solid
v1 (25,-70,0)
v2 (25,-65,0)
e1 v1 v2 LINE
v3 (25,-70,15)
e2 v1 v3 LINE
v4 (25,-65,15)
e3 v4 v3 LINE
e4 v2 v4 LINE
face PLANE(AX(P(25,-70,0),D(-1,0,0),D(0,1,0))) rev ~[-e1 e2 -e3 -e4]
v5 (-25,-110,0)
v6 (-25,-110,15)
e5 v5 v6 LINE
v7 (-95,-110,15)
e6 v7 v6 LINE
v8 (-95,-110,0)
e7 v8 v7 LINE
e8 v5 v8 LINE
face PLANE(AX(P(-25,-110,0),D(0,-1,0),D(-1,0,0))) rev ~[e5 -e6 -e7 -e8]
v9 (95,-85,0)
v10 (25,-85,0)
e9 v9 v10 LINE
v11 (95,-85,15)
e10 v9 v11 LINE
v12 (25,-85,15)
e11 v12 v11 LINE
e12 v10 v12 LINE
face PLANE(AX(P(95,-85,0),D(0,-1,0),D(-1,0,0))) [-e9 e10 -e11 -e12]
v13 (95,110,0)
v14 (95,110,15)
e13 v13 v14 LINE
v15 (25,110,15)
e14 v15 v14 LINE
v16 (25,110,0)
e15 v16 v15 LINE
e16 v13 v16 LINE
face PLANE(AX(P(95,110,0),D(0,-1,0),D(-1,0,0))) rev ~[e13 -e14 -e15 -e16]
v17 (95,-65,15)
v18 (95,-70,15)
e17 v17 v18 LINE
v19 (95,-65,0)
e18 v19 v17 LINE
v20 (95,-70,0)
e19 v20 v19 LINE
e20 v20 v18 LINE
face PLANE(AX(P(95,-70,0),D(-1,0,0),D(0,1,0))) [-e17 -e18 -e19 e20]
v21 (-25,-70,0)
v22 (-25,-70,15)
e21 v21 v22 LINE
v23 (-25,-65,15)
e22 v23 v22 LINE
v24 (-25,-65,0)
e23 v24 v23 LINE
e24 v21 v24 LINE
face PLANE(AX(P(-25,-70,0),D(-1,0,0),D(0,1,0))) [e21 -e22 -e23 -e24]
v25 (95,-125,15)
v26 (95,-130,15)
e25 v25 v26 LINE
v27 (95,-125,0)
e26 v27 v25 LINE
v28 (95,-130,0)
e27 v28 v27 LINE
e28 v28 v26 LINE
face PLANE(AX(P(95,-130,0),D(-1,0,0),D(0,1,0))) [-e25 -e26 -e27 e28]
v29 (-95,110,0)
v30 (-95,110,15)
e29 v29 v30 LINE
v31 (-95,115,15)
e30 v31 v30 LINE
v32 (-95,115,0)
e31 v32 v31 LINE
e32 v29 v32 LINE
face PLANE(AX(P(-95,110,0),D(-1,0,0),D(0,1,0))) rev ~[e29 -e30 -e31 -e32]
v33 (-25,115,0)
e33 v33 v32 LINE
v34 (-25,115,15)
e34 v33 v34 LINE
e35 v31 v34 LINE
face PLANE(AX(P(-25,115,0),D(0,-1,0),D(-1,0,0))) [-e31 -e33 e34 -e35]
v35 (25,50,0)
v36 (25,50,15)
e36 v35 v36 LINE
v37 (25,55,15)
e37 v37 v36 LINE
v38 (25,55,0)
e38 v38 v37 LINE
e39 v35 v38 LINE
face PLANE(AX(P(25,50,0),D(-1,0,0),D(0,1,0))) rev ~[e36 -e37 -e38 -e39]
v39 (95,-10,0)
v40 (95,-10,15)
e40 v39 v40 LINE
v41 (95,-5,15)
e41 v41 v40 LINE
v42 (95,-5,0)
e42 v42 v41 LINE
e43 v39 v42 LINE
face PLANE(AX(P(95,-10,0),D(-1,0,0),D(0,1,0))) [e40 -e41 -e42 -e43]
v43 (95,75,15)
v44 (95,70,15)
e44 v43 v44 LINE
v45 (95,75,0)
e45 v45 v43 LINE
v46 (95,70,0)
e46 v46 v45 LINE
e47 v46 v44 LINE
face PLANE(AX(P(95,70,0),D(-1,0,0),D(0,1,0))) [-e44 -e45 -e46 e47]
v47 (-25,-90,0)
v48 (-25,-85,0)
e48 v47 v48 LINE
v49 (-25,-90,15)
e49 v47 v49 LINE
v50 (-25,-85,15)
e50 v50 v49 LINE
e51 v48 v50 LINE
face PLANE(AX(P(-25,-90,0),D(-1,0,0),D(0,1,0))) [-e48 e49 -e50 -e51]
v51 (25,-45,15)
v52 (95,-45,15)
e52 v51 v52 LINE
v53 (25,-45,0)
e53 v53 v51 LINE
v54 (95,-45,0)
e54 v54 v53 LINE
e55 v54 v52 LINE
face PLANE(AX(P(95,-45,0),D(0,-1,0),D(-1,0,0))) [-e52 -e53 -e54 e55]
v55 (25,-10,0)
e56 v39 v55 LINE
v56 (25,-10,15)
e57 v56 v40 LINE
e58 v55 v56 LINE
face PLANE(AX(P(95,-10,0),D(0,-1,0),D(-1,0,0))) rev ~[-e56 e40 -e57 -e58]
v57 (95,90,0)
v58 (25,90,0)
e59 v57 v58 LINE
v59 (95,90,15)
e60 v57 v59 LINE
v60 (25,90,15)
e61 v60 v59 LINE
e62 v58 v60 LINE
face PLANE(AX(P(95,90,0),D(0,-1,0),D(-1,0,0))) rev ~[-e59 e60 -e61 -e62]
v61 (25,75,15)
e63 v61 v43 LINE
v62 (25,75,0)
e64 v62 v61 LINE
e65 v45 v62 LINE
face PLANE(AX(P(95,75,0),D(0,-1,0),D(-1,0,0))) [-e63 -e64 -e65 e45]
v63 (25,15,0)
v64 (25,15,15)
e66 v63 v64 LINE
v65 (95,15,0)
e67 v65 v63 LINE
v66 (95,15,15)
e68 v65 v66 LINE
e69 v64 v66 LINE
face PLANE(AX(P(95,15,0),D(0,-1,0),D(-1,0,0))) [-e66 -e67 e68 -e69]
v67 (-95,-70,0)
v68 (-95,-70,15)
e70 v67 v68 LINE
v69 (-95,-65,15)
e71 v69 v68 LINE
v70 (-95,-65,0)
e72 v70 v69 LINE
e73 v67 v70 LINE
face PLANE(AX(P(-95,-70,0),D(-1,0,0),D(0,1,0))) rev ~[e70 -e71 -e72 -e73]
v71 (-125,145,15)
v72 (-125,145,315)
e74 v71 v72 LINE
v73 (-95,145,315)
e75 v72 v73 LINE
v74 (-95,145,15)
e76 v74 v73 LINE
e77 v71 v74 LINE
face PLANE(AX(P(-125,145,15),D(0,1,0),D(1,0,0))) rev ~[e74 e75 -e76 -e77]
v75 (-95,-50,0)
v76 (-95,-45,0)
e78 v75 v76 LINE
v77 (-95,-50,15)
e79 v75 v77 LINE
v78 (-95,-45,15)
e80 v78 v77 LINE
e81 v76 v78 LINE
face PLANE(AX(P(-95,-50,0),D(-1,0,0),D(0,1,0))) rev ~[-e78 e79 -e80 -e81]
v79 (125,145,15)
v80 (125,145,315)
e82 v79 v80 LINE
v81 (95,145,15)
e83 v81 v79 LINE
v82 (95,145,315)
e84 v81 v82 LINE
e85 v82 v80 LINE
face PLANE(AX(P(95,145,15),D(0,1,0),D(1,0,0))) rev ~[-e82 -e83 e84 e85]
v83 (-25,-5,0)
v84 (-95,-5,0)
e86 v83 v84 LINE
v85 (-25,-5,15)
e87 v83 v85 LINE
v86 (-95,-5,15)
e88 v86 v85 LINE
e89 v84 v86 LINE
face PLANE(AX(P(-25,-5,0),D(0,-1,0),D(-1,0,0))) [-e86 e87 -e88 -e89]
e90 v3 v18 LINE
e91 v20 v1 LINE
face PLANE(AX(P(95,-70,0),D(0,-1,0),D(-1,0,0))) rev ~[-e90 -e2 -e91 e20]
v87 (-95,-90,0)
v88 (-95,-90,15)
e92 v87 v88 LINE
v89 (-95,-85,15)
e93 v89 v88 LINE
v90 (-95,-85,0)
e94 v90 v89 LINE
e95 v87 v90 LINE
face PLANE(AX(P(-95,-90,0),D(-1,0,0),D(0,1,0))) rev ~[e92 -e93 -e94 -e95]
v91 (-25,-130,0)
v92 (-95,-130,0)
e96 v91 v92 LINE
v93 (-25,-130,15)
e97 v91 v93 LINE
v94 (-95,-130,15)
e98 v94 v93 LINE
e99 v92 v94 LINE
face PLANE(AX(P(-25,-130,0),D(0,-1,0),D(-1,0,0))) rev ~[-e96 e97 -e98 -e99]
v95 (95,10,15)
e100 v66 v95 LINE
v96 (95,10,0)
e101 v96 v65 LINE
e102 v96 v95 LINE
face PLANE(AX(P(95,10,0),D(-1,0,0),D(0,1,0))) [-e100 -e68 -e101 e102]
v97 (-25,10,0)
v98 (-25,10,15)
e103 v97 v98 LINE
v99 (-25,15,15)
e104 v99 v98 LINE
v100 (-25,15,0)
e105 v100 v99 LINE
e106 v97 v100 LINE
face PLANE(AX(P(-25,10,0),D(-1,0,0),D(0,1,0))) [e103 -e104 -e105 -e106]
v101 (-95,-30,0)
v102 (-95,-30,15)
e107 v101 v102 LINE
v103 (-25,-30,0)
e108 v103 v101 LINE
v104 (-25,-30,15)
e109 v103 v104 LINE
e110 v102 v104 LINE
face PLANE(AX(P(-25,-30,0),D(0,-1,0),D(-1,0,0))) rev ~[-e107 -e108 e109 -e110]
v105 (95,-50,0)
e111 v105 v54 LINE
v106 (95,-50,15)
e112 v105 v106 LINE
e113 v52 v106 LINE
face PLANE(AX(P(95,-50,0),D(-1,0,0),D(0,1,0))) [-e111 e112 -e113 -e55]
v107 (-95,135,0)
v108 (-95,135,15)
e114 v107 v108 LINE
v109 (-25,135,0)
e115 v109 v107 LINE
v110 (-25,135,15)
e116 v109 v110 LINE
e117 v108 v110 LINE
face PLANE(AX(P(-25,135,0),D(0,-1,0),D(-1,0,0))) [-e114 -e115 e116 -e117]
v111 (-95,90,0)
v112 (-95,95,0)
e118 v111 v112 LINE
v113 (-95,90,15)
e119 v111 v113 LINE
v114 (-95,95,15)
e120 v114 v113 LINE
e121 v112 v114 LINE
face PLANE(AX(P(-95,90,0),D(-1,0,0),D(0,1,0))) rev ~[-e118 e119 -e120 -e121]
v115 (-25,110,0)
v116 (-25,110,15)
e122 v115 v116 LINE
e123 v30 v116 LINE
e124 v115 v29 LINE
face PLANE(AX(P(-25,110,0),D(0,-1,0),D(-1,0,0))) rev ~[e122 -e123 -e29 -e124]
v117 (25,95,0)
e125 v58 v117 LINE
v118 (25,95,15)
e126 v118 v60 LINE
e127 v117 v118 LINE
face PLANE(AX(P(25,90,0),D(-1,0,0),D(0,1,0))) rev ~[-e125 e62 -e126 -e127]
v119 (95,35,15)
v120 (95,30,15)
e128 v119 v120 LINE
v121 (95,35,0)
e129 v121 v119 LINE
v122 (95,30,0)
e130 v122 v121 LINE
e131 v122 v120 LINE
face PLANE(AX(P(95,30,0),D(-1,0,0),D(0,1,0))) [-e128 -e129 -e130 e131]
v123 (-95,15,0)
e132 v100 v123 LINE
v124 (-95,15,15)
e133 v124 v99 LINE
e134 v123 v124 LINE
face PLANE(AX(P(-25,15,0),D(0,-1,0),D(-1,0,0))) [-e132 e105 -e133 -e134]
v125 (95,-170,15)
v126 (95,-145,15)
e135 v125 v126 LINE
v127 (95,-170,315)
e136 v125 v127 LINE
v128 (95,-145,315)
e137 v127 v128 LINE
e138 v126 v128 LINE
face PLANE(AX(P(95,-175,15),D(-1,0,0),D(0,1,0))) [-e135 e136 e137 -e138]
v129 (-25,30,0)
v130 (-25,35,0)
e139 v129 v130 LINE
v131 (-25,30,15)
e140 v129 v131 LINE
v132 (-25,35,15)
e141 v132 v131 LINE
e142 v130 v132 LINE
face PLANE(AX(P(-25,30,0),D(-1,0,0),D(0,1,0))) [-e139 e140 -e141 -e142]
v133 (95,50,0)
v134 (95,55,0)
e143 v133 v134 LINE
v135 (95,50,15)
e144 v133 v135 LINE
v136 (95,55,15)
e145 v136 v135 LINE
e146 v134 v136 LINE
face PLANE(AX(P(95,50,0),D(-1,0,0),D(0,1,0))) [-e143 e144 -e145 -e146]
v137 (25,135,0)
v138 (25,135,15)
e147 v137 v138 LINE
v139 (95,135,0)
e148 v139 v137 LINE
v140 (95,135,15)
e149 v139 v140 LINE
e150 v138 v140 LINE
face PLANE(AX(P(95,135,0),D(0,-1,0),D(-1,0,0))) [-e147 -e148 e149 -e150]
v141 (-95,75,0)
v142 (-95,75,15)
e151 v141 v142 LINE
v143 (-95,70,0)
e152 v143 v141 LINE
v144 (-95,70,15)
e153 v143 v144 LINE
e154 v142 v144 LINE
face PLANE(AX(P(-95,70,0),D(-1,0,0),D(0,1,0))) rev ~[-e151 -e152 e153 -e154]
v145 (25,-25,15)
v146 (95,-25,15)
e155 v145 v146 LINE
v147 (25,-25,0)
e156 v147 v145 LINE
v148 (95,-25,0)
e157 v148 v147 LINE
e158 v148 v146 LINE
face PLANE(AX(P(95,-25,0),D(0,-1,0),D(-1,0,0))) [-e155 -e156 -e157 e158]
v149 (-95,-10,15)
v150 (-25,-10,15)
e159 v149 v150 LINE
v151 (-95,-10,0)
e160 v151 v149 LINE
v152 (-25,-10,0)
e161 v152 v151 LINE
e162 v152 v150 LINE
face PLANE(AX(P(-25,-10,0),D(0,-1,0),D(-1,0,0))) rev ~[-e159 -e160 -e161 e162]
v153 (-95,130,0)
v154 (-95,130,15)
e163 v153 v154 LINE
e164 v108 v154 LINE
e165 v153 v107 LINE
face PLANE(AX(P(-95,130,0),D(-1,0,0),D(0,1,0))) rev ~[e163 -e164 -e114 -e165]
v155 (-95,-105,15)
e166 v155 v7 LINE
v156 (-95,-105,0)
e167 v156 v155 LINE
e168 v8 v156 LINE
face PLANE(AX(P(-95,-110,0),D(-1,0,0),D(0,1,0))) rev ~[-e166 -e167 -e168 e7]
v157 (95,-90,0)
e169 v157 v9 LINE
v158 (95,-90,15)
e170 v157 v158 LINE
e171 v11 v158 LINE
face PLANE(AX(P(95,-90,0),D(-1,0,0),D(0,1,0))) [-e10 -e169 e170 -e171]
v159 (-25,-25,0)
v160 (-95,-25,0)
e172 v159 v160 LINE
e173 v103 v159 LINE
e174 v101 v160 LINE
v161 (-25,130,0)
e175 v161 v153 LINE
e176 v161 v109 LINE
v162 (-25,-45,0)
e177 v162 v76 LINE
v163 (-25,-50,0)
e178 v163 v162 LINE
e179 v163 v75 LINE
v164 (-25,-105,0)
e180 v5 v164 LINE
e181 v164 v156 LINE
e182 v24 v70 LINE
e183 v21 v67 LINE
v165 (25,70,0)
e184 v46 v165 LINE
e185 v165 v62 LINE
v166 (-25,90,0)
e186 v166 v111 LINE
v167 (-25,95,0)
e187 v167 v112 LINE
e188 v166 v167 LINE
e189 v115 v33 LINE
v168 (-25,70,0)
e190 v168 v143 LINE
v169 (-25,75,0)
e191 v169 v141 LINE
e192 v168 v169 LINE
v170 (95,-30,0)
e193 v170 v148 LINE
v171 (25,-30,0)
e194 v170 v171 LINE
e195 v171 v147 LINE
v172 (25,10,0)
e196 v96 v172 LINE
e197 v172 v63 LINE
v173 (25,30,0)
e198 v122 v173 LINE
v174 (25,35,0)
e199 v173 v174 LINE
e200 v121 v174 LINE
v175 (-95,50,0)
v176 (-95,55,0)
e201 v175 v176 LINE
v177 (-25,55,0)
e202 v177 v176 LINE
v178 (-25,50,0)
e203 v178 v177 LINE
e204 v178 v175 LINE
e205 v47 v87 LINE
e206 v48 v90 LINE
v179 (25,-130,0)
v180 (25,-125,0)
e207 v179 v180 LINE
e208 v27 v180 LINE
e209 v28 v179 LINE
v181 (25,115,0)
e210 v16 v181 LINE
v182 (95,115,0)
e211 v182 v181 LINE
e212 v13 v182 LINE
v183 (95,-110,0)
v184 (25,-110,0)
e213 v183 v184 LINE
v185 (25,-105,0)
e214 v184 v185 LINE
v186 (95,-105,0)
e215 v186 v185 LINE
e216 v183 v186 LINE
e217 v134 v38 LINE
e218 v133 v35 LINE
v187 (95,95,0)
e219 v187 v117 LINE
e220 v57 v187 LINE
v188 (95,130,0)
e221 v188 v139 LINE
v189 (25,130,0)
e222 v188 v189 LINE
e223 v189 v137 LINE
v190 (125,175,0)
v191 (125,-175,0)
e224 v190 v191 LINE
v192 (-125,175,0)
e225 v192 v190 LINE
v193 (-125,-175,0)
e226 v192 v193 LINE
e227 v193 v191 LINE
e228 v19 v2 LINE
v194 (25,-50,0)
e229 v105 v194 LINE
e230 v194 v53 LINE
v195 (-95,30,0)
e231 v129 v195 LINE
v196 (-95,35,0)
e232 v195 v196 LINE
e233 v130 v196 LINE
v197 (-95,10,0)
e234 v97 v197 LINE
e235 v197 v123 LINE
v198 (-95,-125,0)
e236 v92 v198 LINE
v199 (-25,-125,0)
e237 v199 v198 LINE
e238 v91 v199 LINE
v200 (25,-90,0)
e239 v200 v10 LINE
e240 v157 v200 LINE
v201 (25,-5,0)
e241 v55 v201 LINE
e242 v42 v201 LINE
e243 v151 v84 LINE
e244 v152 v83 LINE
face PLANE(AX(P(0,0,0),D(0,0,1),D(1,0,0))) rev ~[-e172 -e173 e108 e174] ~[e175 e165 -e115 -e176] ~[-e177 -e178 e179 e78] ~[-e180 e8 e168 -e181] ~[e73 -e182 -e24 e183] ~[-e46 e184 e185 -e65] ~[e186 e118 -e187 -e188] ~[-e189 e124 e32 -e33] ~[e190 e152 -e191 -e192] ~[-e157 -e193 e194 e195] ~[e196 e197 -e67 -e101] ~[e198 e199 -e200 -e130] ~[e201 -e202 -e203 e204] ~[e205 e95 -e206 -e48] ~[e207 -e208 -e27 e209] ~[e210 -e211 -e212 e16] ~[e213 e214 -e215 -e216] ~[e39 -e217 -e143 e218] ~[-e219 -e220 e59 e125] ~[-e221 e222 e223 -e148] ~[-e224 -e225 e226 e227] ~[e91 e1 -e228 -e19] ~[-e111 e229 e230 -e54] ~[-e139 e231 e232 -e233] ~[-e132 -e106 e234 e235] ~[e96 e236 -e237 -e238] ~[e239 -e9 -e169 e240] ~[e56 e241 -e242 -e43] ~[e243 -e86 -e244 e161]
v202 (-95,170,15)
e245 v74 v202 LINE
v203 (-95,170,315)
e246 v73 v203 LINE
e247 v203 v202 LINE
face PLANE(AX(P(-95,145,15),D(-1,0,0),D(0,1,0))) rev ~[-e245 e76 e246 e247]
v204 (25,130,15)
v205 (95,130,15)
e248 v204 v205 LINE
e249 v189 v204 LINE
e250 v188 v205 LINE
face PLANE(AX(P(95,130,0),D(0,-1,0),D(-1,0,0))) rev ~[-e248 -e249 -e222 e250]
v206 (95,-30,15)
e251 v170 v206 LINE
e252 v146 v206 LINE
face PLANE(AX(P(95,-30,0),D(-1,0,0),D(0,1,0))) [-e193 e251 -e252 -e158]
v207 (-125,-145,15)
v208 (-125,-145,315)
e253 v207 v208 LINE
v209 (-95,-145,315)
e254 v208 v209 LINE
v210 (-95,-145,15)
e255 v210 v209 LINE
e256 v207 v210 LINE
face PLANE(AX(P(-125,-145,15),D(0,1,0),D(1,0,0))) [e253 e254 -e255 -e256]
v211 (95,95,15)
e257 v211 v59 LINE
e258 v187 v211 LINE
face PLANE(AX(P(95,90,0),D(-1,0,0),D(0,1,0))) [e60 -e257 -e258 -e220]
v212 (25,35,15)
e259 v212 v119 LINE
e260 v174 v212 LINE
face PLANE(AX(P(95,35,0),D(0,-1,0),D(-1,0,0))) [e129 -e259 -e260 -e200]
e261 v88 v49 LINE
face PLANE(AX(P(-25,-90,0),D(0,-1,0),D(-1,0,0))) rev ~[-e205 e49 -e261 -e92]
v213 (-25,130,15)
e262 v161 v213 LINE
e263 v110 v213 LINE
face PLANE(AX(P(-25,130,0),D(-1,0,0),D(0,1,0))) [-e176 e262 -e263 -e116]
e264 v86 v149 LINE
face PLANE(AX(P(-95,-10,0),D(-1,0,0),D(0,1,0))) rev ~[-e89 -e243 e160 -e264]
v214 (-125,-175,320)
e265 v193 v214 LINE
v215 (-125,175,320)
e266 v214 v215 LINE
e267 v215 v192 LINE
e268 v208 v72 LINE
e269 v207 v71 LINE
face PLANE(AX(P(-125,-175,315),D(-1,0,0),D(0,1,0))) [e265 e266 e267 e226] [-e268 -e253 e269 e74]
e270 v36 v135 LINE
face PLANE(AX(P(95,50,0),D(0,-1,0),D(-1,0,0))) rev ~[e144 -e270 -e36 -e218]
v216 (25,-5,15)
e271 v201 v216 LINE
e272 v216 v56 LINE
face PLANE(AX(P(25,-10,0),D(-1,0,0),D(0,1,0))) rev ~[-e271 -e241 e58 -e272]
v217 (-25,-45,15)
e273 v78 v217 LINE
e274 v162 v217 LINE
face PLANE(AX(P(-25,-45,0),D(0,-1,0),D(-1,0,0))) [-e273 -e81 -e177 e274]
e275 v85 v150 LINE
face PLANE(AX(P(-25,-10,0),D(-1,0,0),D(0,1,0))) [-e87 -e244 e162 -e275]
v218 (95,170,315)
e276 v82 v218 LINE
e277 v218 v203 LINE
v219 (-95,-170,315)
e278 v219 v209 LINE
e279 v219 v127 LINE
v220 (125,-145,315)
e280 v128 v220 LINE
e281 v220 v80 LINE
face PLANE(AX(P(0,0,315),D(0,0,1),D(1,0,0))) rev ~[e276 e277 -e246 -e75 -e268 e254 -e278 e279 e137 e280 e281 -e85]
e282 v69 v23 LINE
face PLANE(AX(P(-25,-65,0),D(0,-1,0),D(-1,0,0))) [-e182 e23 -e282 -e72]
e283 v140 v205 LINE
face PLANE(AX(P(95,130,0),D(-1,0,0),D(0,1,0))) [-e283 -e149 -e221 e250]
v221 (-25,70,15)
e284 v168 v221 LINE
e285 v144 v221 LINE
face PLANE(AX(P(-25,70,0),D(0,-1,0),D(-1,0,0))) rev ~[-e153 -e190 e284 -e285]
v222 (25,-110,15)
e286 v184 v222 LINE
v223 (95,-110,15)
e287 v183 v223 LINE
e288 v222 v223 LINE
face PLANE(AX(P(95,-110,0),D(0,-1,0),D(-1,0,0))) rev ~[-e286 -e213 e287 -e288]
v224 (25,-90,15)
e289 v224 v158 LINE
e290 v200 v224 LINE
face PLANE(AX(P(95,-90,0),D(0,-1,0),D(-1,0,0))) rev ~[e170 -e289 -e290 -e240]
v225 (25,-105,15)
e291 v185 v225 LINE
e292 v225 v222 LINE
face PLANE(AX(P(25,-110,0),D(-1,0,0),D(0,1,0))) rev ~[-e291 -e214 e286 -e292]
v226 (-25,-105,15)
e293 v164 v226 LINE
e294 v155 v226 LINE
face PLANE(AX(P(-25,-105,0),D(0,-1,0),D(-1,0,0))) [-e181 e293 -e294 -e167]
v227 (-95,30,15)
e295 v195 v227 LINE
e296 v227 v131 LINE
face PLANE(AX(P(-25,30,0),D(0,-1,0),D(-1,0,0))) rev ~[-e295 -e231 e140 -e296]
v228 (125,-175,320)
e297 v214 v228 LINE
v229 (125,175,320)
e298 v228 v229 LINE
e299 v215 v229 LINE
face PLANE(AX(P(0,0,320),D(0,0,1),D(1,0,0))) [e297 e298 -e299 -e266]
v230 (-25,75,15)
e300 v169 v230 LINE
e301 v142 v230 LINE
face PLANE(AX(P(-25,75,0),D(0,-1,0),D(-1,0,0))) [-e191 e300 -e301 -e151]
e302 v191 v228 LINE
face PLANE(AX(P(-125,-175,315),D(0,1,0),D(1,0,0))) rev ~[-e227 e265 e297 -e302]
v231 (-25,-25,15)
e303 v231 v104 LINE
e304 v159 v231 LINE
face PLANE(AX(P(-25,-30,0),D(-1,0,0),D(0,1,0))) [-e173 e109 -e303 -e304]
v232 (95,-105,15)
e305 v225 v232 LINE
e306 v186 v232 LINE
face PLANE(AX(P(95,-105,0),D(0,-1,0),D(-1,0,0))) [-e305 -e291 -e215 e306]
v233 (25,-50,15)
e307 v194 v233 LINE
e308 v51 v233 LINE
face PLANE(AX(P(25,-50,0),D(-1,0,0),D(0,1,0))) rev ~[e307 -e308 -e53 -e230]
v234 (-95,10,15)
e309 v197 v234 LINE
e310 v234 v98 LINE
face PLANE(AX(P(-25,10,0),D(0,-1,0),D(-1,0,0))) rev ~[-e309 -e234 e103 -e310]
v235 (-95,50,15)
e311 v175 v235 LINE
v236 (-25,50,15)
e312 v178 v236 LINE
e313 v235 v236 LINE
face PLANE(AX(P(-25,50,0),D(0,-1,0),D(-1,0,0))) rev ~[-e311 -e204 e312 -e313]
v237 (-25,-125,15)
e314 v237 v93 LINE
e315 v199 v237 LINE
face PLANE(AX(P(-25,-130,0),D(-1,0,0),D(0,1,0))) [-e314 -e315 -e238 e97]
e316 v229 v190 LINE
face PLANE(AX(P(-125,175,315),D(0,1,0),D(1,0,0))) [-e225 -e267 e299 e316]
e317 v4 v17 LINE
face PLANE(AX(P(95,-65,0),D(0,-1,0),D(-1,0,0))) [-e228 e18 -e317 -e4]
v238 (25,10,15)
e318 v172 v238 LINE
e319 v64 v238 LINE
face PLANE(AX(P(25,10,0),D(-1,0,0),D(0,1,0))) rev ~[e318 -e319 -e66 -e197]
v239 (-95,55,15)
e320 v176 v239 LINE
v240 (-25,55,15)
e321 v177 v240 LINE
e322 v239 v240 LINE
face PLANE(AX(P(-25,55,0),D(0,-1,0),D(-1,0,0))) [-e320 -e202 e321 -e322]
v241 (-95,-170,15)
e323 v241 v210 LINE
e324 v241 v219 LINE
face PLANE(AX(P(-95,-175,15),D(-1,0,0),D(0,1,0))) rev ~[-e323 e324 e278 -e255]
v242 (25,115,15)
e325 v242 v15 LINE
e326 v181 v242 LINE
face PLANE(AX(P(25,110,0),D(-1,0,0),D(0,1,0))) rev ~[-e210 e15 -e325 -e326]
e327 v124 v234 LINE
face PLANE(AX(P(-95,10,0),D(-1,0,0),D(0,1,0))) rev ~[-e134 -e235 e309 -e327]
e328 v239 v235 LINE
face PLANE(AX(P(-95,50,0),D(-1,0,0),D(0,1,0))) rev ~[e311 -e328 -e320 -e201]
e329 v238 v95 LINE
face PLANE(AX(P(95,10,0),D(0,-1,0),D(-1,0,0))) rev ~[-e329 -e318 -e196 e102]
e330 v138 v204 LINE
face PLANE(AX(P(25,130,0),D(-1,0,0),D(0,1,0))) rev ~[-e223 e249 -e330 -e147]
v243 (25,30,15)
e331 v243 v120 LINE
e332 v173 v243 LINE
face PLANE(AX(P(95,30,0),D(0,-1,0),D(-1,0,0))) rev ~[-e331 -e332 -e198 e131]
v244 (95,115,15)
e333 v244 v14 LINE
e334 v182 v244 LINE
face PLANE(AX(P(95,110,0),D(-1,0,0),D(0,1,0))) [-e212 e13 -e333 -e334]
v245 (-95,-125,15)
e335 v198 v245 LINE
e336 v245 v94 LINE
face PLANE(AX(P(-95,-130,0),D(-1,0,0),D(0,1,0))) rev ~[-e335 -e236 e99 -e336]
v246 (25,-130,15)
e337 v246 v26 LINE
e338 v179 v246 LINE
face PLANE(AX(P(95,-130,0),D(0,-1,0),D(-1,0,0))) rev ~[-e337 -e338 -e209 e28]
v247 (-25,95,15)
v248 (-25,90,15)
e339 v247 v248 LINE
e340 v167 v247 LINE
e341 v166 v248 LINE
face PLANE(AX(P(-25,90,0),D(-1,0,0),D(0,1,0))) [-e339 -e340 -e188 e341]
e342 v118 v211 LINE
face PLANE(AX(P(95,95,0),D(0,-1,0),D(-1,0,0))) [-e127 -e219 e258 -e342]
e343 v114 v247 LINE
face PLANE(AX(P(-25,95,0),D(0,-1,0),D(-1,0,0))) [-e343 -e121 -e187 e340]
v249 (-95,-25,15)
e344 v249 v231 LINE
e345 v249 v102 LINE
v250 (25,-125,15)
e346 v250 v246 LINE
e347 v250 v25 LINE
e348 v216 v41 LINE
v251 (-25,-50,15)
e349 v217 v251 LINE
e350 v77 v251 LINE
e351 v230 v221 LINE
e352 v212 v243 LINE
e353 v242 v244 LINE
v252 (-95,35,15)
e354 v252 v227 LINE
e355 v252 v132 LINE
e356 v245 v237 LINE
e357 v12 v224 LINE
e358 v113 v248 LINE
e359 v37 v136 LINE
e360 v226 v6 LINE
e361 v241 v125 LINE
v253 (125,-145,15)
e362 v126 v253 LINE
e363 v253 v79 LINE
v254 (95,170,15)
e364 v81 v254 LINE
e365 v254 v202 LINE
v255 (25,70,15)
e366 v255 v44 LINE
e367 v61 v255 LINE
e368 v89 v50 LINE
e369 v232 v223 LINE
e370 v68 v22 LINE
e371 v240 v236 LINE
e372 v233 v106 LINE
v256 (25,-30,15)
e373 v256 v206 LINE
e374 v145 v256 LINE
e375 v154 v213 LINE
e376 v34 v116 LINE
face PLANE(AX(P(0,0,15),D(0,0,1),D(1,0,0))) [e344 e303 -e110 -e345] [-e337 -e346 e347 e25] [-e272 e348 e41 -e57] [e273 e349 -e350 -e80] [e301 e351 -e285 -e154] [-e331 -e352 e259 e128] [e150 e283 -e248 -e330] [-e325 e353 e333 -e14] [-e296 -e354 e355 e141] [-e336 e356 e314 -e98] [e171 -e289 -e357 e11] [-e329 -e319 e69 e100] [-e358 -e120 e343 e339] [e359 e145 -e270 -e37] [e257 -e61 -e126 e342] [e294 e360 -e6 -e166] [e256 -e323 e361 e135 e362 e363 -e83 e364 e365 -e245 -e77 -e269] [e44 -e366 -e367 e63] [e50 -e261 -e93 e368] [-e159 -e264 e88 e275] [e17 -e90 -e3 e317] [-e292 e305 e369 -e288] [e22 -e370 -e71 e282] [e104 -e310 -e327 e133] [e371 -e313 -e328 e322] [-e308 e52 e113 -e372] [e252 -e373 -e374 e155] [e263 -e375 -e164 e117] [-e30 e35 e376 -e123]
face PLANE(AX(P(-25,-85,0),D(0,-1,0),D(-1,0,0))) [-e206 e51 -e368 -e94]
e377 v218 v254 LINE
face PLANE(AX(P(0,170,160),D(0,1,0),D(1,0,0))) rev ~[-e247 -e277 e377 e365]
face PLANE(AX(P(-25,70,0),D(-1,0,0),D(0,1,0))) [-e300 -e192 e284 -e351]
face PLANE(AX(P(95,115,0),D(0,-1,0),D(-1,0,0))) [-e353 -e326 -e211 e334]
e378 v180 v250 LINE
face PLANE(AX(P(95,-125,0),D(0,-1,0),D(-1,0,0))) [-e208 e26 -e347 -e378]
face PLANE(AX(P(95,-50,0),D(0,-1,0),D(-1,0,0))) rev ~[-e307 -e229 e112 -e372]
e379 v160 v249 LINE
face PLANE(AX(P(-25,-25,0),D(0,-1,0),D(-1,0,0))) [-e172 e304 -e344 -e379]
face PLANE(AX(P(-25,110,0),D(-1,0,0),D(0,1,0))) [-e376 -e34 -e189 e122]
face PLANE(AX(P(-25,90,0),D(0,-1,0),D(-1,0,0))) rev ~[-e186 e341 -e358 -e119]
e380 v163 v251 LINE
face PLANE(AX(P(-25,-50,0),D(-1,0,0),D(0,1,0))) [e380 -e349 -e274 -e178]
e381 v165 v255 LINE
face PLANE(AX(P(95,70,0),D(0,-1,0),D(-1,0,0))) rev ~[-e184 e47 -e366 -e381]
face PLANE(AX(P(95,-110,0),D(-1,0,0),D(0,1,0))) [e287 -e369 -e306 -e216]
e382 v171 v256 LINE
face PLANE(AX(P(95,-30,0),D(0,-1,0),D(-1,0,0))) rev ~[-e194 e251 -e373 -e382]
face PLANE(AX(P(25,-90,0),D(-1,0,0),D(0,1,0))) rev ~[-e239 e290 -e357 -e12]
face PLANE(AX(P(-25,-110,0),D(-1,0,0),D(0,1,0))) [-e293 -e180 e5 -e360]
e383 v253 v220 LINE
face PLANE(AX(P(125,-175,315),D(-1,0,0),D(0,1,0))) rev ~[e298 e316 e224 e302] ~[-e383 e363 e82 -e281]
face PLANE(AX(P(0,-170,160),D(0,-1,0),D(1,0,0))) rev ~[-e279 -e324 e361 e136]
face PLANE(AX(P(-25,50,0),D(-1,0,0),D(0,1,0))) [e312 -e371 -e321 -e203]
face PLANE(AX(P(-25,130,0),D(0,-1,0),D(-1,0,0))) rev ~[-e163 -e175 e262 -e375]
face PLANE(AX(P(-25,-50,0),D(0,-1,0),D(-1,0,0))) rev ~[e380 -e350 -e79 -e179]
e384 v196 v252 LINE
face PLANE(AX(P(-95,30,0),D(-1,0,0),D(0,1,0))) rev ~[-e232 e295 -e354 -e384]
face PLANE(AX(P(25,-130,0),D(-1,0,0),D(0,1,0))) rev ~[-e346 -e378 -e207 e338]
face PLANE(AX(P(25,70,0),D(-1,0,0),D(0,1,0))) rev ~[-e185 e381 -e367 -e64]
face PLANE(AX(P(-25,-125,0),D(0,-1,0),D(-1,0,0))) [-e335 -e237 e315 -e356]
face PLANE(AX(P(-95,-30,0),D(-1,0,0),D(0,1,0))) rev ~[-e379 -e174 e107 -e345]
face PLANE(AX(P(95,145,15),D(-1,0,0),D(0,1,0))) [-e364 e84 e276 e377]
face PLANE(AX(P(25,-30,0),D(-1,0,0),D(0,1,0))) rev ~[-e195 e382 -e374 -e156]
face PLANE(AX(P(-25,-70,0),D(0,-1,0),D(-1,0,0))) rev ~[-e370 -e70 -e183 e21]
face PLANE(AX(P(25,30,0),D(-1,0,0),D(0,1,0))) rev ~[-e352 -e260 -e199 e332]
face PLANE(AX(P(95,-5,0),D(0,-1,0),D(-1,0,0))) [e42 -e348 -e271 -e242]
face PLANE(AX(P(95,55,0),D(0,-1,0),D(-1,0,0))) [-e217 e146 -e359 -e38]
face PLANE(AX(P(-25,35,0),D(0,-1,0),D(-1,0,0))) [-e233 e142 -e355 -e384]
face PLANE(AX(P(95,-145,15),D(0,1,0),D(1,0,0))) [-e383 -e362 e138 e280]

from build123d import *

# Parameters (mm, degrees)
CROQUIS1_W              = 250
CROQUIS1_H              = 350
SALIENTE_EXTRUIR2_DEPTH = 15
CROQUIS2_W              = 30
CROQUIS2_H              = 30
SALIENTE_EXTRUIR3_DEPTH = 300
CROQUIS3_W              = 250
CROQUIS3_H              = 350
SALIENTE_EXTRUIR4_DEPTH = 5
CROQUIS7_W              = 70
CROQUIS7_H              = 5
CORTAR_EXTRUIR1_DEPTH   = 20
CROQUIS8_W              = 250
CROQUIS8_H              = 320
SALIENTE_EXTRUIR5_DEPTH = 5
CROQUIS9_W              = 250
CROQUIS9_H              = 320
SALIENTE_EXTRUIR6_DEPTH = 5


with BuildPart() as part:
    # Croquis1 → Saliente-Extruir2 (new body)
    with BuildSketch(Plane.XY):
        Rectangle(CROQUIS1_W, CROQUIS1_H)
    extrude(amount=SALIENTE_EXTRUIR2_DEPTH)

    # Croquis2 → Saliente-Extruir3 (add)
    with BuildSketch(Plane.XY.offset(15)):
        with Locations((-110, 160)):
            Rectangle(CROQUIS2_W, CROQUIS2_H)
        with Locations((110, 160)):
            Rectangle(CROQUIS2_W, CROQUIS2_H)
        with Locations((-110, -160)):
            Rectangle(CROQUIS2_W, CROQUIS2_H)
        with Locations((110, -160)):
            Rectangle(CROQUIS2_W, CROQUIS2_H)
    extrude(amount=SALIENTE_EXTRUIR3_DEPTH)

    # Croquis3 → Saliente-Extruir4 (add)
    with BuildSketch(Plane.XY.offset(315)):
        Rectangle(CROQUIS3_W, CROQUIS3_H)
    extrude(amount=SALIENTE_EXTRUIR4_DEPTH)

    # Croquis7 → Cortar-Extruir1 (cut)
    with BuildSketch(Plane(origin=(0, 0, 0), x_dir=(-1, 0, 0), z_dir=(0, 0, -1))):
        with Locations((60, 132.5)):
            Rectangle(CROQUIS7_W, CROQUIS7_H)
        with Locations((-60, 132.5)):
            Rectangle(CROQUIS7_W, CROQUIS7_H)
        with Locations((60, 112.5)):
            Rectangle(CROQUIS7_W, CROQUIS7_H)
        with Locations((60, 92.5)):
            Rectangle(CROQUIS7_W, CROQUIS7_H)
        with Locations((60, 72.5)):
            Rectangle(CROQUIS7_W, CROQUIS7_H)
        with Locations((60, 52.5)):
            Rectangle(CROQUIS7_W, CROQUIS7_H)
        with Locations((60, 32.5)):
            Rectangle(CROQUIS7_W, CROQUIS7_H)
        with Locations((60, 12.5)):
            Rectangle(CROQUIS7_W, CROQUIS7_H)
        with Locations((60, -7.5)):
            Rectangle(CROQUIS7_W, CROQUIS7_H)
        with Locations((60, -27.5)):
            Rectangle(CROQUIS7_W, CROQUIS7_H)
        with Locations((60, -47.5)):
            Rectangle(CROQUIS7_W, CROQUIS7_H)
        with Locations((-60, 112.5)):
            Rectangle(CROQUIS7_W, CROQUIS7_H)
        with Locations((-60, 92.5)):
            Rectangle(CROQUIS7_W, CROQUIS7_H)
        with Locations((-60, 72.5)):
            Rectangle(CROQUIS7_W, CROQUIS7_H)
        with Locations((-60, 52.5)):
            Rectangle(CROQUIS7_W, CROQUIS7_H)
        with Locations((-60, 32.5)):
            Rectangle(CROQUIS7_W, CROQUIS7_H)
        with Locations((-60, 12.5)):
            Rectangle(CROQUIS7_W, CROQUIS7_H)
        with Locations((-60, -7.5)):
            Rectangle(CROQUIS7_W, CROQUIS7_H)
        with Locations((-60, -27.5)):
            Rectangle(CROQUIS7_W, CROQUIS7_H)
        with Locations((-60, -47.5)):
            Rectangle(CROQUIS7_W, CROQUIS7_H)
        with Locations((-60, -67.5)):
            Rectangle(CROQUIS7_W, CROQUIS7_H)
        with Locations((60, -67.5)):
            Rectangle(CROQUIS7_W, CROQUIS7_H)
        with Locations((-60, -87.5)):
            Rectangle(CROQUIS7_W, CROQUIS7_H)
        with Locations((60, -87.5)):
            Rectangle(CROQUIS7_W, CROQUIS7_H)
        with Locations((-60, -107.5)):
            Rectangle(CROQUIS7_W, CROQUIS7_H)
        with Locations((60, -107.5)):
            Rectangle(CROQUIS7_W, CROQUIS7_H)
        with Locations((-60, -127.5)):
            Rectangle(CROQUIS7_W, CROQUIS7_H)
        with Locations((60, -127.5)):
            Rectangle(CROQUIS7_W, CROQUIS7_H)
    extrude(amount=-CORTAR_EXTRUIR1_DEPTH, mode=Mode.SUBTRACT)

    # Croquis8 → Saliente-Extruir5 (add)
    with BuildSketch(Plane.XZ.offset(175)):
        with Locations((0, 160)):
            Rectangle(CROQUIS8_W, CROQUIS8_H)
    extrude(amount=-SALIENTE_EXTRUIR5_DEPTH)

    # Croquis9 → Saliente-Extruir6 (add)
    with BuildSketch(Plane(origin=(0, 175, 0), x_dir=(1, 0, 0), z_dir=(0, 1, 0))):
        with Locations((0, -160)):
            Rectangle(CROQUIS9_W, CROQUIS9_H)
    extrude(amount=-SALIENTE_EXTRUIR6_DEPTH)


solid = part.part
